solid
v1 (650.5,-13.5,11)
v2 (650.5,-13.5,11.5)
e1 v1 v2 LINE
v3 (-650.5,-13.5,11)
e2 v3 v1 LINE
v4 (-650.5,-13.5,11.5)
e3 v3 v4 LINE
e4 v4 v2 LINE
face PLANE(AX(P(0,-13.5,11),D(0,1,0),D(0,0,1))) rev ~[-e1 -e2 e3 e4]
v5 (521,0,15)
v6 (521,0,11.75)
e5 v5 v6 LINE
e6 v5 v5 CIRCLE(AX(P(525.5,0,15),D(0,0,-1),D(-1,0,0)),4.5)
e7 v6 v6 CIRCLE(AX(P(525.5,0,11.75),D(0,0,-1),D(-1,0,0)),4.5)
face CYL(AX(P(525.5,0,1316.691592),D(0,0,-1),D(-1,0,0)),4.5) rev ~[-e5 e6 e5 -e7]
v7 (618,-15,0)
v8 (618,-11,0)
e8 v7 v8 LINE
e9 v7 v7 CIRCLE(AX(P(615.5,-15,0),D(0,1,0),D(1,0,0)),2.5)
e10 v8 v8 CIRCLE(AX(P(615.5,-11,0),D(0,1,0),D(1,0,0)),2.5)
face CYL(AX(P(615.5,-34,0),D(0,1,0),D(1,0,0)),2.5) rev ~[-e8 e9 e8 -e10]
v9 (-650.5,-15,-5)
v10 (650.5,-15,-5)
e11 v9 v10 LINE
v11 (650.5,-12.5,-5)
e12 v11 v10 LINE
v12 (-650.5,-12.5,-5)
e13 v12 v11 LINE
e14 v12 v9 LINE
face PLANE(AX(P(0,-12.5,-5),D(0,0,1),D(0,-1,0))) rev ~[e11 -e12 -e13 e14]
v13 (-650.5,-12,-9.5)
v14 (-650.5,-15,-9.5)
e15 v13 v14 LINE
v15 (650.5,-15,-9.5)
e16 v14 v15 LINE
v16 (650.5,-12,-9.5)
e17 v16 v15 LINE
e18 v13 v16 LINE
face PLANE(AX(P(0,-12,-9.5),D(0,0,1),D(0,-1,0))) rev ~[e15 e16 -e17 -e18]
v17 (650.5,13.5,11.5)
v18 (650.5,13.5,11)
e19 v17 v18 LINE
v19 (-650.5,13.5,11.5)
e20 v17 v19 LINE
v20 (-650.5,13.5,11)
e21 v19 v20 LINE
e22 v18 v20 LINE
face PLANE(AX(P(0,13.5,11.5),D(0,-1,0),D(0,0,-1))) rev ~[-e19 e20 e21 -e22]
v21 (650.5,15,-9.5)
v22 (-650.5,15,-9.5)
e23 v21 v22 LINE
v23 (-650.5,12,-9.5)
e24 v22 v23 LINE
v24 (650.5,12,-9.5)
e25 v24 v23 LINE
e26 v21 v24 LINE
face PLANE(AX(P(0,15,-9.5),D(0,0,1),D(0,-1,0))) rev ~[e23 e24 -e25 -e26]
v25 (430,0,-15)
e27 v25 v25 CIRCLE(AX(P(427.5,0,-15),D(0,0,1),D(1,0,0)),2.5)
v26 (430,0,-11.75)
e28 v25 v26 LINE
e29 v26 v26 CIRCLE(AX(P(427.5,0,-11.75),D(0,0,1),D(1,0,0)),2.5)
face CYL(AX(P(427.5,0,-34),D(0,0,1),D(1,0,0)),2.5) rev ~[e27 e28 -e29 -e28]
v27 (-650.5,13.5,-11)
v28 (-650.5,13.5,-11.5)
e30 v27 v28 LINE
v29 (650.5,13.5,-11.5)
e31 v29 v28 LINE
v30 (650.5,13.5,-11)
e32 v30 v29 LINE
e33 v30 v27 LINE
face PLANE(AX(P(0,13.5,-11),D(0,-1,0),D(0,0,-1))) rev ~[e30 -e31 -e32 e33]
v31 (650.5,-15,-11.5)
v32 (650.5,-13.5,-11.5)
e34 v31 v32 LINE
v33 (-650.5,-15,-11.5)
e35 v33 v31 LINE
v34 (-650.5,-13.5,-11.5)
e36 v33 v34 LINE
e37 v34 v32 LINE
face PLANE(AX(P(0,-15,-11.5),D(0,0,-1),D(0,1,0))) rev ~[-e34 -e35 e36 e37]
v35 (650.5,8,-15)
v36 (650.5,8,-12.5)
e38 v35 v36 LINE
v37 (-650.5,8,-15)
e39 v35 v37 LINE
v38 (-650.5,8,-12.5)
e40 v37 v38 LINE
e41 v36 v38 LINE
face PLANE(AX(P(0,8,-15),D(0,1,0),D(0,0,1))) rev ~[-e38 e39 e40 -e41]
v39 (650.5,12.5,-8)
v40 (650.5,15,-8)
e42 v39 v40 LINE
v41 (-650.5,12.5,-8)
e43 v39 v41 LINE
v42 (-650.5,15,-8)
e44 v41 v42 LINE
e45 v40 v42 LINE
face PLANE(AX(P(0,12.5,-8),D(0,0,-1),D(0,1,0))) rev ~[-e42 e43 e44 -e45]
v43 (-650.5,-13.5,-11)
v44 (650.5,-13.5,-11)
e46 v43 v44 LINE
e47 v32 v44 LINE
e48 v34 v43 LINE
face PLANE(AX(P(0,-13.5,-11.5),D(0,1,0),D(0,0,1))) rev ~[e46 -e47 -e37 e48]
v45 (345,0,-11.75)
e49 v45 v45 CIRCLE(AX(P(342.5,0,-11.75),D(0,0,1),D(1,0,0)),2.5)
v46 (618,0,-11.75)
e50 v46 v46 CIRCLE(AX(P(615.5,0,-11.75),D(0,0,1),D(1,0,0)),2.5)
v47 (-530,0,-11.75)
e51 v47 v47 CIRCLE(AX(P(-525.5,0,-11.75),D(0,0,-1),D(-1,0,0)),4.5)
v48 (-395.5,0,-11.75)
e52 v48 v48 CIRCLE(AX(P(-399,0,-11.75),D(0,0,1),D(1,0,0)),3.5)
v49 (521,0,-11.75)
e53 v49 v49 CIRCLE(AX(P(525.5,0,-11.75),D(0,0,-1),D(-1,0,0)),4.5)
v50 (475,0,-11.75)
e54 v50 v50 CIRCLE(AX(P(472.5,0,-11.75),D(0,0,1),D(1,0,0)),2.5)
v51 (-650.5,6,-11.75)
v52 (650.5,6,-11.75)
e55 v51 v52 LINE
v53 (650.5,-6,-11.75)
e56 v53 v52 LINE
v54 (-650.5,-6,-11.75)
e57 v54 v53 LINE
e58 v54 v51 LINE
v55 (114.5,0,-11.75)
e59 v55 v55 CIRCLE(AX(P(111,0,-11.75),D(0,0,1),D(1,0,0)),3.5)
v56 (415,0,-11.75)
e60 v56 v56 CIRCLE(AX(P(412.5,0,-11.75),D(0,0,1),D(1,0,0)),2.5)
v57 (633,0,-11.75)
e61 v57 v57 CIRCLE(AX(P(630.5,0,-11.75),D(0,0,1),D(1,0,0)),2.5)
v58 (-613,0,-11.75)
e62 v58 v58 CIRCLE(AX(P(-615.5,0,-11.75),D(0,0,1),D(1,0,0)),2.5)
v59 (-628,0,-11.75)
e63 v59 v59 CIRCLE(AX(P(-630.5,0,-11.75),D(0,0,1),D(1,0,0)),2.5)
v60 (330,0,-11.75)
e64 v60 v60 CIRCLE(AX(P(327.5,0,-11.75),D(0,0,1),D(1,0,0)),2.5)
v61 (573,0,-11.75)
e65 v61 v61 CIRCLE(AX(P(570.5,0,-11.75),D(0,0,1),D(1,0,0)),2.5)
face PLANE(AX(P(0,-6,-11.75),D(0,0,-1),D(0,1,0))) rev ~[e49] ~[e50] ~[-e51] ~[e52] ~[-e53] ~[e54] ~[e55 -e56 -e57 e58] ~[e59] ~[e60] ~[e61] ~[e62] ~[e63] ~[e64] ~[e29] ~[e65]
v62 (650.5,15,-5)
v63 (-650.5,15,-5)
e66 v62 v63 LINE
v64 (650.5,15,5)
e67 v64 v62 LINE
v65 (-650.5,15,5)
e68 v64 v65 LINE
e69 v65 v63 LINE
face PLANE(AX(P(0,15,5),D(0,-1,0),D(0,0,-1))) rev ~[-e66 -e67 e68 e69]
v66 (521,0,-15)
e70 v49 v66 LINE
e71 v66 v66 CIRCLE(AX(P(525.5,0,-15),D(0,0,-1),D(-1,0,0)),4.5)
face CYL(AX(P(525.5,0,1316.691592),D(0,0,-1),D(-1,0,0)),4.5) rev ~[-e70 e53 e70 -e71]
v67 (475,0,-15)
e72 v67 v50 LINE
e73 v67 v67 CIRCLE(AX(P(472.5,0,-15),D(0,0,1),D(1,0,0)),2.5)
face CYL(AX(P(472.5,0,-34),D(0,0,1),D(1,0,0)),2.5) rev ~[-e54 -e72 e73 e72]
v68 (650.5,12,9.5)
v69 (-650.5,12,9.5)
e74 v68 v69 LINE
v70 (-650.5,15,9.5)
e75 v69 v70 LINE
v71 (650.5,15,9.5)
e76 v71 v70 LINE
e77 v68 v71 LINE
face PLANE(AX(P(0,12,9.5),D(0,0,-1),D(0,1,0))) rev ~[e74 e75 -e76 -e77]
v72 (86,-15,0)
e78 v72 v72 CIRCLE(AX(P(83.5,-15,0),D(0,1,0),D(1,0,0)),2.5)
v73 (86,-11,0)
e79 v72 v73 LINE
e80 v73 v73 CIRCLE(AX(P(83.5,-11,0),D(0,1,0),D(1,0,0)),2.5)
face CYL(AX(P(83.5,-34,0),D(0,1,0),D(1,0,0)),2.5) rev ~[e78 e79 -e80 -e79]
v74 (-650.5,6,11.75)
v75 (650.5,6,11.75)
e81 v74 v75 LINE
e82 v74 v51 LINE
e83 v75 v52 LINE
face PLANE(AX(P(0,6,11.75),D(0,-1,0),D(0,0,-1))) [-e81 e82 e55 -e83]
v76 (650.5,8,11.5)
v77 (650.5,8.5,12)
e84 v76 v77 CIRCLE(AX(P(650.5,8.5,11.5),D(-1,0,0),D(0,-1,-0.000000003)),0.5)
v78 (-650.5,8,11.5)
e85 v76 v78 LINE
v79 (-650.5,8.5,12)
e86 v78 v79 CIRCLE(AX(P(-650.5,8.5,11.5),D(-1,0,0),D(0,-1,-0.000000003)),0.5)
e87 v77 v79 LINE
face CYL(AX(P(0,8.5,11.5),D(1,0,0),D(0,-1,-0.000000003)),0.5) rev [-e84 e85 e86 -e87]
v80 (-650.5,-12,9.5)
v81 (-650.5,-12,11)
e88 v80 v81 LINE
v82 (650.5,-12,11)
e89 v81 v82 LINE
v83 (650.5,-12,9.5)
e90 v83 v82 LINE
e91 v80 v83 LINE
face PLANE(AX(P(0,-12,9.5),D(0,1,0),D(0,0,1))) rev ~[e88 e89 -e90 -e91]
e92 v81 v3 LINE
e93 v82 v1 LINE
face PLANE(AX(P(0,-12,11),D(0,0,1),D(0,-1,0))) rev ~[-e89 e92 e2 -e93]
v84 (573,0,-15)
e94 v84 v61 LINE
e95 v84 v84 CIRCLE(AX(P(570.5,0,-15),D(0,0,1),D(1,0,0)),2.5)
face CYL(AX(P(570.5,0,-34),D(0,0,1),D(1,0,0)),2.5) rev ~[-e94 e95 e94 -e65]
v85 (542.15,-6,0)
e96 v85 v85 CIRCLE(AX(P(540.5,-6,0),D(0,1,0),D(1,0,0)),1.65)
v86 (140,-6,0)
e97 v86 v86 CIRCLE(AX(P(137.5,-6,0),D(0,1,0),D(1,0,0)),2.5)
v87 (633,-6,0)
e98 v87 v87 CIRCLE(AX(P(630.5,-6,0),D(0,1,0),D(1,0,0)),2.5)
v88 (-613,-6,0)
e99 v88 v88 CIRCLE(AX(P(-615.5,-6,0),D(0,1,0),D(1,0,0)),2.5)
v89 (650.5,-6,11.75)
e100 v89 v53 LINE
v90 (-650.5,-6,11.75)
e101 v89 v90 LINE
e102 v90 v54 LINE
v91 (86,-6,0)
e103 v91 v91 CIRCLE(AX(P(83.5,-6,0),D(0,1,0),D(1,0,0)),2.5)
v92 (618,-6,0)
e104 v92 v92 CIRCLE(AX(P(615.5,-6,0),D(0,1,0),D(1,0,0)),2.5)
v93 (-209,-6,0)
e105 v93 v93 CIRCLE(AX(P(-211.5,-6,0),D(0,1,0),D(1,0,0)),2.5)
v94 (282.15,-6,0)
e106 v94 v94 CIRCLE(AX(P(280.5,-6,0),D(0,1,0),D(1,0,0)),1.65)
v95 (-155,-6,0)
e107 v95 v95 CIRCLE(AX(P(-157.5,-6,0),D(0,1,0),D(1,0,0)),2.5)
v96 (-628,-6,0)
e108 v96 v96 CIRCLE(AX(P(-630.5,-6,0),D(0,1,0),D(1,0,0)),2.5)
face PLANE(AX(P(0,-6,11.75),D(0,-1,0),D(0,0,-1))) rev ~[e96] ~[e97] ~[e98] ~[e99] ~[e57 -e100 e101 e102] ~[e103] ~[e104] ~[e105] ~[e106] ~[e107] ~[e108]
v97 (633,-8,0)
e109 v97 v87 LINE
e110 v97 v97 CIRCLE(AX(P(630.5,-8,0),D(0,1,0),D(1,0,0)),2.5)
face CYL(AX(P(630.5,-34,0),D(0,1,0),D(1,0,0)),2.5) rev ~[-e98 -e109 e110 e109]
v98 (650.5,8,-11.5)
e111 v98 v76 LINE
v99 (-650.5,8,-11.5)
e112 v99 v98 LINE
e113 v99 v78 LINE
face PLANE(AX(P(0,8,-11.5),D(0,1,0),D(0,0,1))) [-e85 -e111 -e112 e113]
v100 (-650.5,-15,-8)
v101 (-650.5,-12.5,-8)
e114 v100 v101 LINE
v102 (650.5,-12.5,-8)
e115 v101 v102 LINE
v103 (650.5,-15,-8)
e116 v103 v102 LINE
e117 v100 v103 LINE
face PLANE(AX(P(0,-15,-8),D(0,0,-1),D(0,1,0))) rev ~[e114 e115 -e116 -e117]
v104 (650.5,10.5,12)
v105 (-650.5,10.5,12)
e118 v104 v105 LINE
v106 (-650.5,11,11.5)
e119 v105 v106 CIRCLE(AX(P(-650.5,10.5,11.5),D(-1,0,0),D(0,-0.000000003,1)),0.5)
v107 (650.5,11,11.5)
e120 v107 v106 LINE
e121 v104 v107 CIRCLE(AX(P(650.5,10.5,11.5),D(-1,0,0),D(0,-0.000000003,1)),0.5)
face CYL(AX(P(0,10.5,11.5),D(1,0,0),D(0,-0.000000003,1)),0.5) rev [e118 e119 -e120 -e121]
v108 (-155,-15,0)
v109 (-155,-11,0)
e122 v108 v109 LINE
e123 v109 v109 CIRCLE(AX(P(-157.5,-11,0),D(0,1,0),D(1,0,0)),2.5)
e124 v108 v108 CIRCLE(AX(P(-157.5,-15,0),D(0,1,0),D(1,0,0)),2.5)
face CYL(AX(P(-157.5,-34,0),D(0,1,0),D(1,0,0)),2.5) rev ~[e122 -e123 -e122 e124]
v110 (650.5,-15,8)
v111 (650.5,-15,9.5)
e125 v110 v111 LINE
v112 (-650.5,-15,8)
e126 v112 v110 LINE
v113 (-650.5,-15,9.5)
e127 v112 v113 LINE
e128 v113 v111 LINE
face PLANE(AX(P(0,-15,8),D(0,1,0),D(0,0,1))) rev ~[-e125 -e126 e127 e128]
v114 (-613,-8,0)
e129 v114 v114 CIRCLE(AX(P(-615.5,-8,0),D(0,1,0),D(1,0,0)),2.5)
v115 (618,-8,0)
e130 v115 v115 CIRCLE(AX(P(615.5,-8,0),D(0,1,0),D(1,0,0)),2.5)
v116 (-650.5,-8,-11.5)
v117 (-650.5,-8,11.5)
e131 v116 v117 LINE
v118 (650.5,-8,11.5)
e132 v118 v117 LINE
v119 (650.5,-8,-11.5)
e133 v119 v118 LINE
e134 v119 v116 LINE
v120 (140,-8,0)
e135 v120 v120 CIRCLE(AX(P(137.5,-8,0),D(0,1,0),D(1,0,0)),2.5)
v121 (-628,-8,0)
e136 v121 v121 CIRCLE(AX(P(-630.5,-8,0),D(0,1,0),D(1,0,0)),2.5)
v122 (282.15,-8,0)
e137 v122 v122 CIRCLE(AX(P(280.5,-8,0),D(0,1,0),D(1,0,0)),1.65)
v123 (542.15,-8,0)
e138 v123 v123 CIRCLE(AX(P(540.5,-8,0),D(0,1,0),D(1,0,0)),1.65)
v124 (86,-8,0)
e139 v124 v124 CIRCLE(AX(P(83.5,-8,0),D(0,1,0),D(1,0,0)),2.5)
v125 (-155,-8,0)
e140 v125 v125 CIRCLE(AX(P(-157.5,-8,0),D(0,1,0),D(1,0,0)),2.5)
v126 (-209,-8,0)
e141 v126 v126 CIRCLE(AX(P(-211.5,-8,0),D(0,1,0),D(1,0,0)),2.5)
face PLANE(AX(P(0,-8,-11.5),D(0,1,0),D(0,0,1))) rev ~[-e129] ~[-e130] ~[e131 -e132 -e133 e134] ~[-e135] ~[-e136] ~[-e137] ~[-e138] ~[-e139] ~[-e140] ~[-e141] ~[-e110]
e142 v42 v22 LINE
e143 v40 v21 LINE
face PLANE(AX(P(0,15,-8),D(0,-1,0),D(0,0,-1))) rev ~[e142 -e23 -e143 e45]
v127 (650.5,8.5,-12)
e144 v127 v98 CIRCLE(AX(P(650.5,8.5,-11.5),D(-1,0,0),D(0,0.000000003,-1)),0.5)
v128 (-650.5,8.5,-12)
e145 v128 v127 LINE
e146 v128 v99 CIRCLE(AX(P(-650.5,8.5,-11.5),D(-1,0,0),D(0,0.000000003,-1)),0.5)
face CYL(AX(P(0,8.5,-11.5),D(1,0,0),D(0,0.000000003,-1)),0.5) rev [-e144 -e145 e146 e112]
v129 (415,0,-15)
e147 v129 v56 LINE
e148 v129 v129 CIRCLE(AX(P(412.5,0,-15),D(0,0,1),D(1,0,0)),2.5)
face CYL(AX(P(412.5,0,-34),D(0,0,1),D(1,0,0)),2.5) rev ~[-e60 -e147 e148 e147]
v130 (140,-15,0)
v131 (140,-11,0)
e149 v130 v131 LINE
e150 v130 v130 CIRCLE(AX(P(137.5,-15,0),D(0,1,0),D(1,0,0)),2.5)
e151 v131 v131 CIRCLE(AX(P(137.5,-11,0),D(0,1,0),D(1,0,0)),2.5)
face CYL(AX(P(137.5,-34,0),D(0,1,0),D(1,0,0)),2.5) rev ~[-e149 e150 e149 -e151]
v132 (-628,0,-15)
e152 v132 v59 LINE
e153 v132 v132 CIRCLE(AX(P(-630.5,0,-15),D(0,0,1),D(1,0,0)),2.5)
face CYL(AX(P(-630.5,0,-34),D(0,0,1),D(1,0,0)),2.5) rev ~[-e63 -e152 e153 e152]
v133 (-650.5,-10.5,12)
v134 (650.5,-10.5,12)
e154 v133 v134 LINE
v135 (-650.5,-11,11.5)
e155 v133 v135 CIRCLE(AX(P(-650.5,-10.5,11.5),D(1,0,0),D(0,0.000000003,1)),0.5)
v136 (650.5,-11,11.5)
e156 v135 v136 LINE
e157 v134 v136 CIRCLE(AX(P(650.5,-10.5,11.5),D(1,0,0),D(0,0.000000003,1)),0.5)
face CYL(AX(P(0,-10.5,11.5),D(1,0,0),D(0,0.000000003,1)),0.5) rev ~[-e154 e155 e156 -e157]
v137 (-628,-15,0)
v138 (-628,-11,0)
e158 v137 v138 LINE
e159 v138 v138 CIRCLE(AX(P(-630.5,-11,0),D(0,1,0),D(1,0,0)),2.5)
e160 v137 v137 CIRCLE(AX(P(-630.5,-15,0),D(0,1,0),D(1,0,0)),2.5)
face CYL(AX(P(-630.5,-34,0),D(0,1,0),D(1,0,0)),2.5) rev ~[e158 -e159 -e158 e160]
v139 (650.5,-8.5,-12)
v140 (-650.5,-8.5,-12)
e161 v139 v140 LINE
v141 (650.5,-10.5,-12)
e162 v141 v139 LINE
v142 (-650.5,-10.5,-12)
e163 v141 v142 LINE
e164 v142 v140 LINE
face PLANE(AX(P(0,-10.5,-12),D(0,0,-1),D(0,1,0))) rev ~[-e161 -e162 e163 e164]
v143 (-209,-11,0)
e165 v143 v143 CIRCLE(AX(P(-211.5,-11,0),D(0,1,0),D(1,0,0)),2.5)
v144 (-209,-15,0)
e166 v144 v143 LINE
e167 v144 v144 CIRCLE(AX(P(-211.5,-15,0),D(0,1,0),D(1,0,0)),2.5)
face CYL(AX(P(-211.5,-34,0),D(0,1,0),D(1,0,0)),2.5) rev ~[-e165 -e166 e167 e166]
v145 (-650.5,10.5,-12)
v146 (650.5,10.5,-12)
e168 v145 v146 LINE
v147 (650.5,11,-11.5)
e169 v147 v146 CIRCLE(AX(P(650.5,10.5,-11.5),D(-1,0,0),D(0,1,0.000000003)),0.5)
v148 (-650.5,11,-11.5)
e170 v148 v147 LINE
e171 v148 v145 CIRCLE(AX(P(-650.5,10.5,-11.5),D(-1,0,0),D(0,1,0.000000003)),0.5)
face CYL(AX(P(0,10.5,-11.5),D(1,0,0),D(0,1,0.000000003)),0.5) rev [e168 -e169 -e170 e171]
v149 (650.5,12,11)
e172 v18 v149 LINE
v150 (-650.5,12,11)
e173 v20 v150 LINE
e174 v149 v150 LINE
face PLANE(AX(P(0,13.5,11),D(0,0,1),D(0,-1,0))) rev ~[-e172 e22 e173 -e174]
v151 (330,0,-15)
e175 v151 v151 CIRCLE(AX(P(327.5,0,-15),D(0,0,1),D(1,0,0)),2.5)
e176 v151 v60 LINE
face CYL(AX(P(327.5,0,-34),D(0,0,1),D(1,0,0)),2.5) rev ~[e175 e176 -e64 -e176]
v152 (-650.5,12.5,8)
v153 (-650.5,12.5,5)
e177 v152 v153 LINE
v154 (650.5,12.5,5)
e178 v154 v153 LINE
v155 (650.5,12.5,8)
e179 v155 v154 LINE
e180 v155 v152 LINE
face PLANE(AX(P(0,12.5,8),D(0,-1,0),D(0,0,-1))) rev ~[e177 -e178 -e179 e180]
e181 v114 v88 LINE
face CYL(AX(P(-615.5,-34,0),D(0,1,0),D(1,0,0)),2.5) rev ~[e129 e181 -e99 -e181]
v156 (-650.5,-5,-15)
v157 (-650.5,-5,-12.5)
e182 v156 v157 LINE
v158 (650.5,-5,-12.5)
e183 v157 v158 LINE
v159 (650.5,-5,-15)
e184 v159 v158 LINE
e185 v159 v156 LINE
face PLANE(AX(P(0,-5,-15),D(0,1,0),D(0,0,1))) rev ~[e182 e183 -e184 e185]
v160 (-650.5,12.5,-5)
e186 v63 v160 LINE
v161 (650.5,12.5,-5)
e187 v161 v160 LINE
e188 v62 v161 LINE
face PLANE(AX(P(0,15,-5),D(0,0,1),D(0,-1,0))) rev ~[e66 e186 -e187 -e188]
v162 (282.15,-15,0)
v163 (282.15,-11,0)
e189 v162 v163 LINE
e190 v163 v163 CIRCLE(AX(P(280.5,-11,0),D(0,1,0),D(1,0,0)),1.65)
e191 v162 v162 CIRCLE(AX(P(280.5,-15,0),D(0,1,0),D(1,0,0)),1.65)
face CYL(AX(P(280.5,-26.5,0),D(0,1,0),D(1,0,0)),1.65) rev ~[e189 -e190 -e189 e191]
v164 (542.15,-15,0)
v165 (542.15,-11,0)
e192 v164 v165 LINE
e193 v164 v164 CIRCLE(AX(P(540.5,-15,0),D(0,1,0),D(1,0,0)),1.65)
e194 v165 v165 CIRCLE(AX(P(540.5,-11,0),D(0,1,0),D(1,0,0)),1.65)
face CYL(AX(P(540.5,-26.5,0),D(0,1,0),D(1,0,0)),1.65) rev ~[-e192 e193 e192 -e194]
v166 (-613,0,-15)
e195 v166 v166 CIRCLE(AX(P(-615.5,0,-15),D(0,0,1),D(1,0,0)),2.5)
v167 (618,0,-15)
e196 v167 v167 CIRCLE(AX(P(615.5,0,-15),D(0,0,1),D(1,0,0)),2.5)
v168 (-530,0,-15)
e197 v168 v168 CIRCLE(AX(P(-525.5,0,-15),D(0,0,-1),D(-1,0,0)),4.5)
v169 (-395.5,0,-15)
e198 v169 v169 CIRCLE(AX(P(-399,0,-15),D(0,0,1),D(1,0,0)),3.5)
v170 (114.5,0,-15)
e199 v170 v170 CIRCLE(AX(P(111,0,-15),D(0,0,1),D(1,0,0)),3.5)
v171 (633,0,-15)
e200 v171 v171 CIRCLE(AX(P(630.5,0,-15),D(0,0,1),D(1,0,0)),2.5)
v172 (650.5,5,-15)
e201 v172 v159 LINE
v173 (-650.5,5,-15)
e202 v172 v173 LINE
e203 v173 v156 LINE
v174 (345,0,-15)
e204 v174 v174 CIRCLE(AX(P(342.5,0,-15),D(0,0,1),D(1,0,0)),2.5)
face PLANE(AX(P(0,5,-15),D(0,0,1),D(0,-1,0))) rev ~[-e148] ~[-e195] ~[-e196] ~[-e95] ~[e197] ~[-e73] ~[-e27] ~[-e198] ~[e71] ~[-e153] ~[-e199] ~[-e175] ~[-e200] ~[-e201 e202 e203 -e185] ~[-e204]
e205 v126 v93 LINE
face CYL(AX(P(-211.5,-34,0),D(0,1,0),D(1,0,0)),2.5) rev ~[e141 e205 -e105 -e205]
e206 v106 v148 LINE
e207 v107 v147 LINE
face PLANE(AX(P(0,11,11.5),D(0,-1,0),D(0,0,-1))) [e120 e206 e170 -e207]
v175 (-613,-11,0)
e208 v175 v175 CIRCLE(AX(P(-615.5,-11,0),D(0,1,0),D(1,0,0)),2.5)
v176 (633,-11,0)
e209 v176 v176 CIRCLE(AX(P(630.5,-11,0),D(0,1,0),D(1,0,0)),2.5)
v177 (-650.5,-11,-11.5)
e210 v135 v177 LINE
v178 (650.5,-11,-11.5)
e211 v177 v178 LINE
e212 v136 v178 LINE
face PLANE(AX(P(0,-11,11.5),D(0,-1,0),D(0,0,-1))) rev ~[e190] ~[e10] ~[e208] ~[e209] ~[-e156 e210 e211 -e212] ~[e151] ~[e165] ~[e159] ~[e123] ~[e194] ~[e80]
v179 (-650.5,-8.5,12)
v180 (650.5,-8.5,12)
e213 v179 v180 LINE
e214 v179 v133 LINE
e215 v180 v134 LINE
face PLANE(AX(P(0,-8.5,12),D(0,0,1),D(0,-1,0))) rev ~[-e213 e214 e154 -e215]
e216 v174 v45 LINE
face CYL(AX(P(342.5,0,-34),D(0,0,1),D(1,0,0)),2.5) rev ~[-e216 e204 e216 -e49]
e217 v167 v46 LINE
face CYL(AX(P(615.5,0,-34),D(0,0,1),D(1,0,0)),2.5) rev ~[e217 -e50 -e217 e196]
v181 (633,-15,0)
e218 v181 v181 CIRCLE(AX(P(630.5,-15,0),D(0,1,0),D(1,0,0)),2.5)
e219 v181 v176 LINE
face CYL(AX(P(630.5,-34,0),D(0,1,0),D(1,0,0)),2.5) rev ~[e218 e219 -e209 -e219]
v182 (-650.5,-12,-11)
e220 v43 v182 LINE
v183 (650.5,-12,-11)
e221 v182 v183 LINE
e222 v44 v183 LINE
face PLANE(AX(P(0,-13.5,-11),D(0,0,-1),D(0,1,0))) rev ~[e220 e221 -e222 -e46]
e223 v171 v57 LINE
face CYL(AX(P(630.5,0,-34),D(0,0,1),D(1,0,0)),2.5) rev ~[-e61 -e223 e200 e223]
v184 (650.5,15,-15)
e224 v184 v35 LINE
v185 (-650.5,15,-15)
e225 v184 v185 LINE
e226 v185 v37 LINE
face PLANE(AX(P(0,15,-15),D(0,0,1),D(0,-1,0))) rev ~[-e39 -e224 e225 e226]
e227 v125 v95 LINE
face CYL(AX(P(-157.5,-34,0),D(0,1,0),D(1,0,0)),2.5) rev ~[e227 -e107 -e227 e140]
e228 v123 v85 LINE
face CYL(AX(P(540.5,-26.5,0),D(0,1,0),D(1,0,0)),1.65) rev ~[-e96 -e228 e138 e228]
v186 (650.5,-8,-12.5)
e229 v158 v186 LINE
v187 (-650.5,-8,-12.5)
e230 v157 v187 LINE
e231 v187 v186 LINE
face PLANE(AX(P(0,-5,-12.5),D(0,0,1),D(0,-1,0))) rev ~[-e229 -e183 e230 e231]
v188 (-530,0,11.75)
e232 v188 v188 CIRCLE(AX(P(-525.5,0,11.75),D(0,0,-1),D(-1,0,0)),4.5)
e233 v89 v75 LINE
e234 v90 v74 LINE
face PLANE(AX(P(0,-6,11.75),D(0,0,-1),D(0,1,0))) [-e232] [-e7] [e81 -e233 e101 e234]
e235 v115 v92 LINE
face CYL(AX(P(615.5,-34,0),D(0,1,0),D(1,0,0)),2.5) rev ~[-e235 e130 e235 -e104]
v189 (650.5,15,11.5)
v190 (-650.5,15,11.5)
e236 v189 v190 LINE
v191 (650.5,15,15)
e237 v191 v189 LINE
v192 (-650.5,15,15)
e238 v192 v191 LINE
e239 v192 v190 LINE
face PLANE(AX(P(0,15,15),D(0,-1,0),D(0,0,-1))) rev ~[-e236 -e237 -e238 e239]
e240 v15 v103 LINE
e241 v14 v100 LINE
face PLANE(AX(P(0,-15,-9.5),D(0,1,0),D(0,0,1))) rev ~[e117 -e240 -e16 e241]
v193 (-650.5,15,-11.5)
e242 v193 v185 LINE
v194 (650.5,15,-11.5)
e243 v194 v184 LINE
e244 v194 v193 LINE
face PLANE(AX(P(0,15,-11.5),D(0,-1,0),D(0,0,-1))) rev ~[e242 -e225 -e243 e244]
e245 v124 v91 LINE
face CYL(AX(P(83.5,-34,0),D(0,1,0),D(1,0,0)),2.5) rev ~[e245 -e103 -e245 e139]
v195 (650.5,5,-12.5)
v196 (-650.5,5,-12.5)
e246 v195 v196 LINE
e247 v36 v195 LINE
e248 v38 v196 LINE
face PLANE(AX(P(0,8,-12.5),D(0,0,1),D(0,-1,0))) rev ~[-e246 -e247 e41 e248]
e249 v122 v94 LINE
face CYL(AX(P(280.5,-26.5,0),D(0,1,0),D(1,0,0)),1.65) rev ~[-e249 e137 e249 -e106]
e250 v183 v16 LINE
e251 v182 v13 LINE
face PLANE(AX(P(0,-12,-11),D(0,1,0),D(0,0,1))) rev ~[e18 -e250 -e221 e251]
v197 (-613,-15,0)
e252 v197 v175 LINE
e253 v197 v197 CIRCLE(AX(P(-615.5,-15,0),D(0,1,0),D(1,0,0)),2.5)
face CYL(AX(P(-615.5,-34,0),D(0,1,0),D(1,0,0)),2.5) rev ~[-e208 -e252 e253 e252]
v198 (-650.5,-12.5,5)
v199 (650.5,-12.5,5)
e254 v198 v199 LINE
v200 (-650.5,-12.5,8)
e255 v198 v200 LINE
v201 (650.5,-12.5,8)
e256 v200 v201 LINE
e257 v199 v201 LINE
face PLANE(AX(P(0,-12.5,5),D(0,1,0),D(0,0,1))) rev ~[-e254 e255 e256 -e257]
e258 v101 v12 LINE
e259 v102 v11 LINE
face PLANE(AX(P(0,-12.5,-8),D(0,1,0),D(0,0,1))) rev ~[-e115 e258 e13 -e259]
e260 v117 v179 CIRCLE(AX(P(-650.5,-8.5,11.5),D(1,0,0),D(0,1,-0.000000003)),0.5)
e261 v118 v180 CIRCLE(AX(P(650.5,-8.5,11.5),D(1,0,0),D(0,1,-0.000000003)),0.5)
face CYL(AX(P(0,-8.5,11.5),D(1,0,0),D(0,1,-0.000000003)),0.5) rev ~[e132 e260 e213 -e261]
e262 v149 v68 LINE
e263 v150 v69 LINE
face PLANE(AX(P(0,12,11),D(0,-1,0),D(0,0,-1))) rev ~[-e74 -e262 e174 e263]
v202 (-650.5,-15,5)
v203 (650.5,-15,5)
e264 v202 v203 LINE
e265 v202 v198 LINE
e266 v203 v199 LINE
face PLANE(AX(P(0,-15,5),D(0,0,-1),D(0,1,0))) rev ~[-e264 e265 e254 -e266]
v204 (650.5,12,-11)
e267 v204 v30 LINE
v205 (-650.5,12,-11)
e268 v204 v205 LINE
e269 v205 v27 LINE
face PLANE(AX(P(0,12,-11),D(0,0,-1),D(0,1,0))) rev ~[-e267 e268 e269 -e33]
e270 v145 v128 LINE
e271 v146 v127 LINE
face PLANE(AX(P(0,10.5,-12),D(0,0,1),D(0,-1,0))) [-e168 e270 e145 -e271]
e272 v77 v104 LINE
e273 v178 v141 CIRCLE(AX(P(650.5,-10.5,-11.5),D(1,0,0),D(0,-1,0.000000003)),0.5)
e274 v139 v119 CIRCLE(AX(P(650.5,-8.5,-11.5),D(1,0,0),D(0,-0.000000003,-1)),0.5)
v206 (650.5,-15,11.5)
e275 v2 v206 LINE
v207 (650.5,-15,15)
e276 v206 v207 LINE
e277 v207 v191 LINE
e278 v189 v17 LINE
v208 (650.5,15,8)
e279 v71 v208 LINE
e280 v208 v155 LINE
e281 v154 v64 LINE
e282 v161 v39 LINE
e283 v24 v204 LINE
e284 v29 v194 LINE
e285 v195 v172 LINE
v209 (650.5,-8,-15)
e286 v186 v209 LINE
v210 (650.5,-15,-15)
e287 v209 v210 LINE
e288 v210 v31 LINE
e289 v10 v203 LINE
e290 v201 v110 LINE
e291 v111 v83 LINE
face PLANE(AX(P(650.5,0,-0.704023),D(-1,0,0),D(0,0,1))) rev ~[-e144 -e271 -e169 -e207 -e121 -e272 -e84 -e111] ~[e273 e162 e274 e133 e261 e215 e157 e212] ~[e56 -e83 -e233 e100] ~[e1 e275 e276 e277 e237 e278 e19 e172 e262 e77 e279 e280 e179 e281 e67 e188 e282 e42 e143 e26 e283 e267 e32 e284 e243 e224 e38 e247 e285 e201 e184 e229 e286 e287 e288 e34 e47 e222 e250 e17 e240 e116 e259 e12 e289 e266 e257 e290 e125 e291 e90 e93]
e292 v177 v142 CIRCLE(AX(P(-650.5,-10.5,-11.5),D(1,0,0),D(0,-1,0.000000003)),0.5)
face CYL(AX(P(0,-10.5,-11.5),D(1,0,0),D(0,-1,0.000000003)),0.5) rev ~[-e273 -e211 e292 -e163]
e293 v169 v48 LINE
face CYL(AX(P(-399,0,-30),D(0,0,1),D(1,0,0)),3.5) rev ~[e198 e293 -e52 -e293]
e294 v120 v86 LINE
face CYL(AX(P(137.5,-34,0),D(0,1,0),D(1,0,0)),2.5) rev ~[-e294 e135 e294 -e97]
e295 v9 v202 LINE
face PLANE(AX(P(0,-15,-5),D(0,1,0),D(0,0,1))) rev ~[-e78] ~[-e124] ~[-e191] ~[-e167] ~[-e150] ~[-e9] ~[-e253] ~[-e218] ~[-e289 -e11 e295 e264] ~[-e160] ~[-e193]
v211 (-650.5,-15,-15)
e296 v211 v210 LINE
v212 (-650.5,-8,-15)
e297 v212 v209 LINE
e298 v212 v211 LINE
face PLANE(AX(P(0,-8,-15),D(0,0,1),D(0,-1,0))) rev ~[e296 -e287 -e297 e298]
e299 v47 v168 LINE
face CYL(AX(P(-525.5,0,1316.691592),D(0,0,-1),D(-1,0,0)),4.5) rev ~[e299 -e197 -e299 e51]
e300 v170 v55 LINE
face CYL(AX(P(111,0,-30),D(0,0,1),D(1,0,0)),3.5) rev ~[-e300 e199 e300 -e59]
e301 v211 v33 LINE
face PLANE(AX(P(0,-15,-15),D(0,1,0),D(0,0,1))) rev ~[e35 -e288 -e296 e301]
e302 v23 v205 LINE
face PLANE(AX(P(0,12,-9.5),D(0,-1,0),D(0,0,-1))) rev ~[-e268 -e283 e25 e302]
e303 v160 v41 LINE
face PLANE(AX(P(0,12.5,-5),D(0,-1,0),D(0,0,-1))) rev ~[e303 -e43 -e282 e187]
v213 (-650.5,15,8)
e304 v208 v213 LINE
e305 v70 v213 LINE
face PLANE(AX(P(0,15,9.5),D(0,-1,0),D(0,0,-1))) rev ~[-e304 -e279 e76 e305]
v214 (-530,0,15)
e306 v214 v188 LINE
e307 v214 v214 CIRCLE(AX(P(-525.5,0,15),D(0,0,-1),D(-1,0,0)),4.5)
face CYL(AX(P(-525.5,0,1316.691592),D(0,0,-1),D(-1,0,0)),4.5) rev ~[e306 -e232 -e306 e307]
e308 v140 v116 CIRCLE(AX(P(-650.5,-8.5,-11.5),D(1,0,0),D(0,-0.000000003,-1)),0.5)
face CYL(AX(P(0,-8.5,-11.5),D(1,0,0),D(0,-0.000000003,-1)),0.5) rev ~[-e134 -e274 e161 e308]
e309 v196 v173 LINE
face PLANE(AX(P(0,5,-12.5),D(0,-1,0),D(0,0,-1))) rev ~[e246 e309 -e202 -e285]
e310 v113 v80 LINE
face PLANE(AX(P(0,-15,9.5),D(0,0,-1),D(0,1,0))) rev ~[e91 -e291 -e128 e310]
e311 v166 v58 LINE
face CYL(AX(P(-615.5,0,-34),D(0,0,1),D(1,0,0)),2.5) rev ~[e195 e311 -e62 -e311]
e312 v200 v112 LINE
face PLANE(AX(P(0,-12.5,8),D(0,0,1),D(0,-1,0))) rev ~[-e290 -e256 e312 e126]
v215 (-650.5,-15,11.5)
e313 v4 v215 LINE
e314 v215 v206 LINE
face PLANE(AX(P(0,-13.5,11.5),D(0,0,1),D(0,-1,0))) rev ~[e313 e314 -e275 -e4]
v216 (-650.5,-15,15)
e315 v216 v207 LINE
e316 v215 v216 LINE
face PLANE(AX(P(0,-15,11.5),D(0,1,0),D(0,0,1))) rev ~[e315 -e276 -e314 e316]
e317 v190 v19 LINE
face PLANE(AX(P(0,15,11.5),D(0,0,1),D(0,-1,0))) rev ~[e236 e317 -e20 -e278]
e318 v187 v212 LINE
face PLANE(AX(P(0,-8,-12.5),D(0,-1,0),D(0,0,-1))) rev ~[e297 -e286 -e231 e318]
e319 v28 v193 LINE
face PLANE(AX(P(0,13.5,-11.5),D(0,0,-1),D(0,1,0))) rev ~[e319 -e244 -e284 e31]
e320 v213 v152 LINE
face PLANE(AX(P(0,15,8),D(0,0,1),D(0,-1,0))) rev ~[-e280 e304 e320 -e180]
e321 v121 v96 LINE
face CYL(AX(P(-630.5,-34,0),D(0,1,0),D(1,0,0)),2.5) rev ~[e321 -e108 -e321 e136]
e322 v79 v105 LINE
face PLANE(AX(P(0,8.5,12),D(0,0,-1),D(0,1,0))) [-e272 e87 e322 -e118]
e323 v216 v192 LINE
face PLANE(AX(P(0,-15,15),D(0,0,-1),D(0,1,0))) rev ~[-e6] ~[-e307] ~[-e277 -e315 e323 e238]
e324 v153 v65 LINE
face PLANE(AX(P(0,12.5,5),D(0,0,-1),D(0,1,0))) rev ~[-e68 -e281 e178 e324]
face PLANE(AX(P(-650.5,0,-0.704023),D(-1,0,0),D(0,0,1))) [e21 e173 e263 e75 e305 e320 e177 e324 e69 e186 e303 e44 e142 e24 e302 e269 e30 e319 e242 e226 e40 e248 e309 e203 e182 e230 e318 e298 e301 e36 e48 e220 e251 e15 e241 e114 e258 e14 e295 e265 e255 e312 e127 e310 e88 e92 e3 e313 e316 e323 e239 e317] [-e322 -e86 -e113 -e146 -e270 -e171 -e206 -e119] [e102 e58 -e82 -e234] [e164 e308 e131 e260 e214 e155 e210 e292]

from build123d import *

# Parameters (mm, degrees)
SKETCH_1_W                = 23.5
SKETCH_1_H                = 12
EXTRUDE_1_DEPTH           = 650.5
HOLE_WIZARD_M6_1_D        = 5
HOLE_WIZARD_M6_1_DEPTH    = 19
HOLE_WIZARD_M6_1_TIP      = 1.502151548
HOLE_WIZARD_M6_2_D        = 5
HOLE_WIZARD_M6_2_DEPTH    = 19
HOLE_WIZARD_M6_2_TIP      = 1.502151548
HOLE_WIZARD_9_0_9_1_D     = 9
HOLE_WIZARD_7_0_7_1_D     = 7
HOLE_WIZARD_7_0_7_1_DEPTH = 15
HOLE_WIZARD_7_0_7_1_TIP   = 2.103012167
HOLE_WIZARD_M4_1_D        = 3.3
HOLE_WIZARD_M4_1_DEPTH    = 11.5
HOLE_WIZARD_M4_1_TIP      = 0.991420021


with BuildPart() as part:
    # 草图1 → 凸台-拉伸1 (new, symmetric)
    with BuildSketch(Plane(origin=(0, 0, 0), x_dir=(0, 0, -1), z_dir=(1, 0, 0))):
        Polygon((-15, 15), (-11.5, 15), (-11.5, 13.5), (-11, 13.5), (-11, 12), (-9.5, 12), (-9.5, 15), (-8, 15), (-8, 12.5), (-5, 12.5), (-5, 15), (5, 15), (5, 12.5), (8, 12.5), (8, 15), (9.5, 15), (9.5, 12), (11, 12), (11, 13.5), (11.5, 13.5), (11.5, 15), (15, 15), (15, 8), (12.5, 8), (12.5, 5), (15, 5), (15, -5), (12.5, -5), (12.5, -8), (15, -8), (15, -15), (11.5, -15), (11.5, -13.5), (11, -13.5), (11, -12), (9.5, -12), (9.5, -15), (8, -15), (8, -12.5), (5, -12.5), (5, -15), (-5, -15), (-5, -12.5), (-8, -12.5), (-8, -15), (-9.5, -15), (-9.5, -12), (-11, -12), (-11, -13.5), (-11.5, -13.5), (-11.5, -15), (-15, -15), align=None)
        with BuildLine():
            Line((12, -10.5), (12, -8.5))
            ThreePointArc((12, -8.5), (11.853553391, -8.146446609), (11.5, -8))
            Line((11.5, -8), (-11.5, -8))
            ThreePointArc((-11.5, -8), (-11.853553391, -8.146446609), (-12, -8.5))
            Line((-12, -8.5), (-12, -10.5))
            ThreePointArc((-12, -10.5), (-11.853553391, -10.853553391), (-11.5, -11))
            Line((-11.5, -11), (11.5, -11))
            ThreePointArc((11.5, -11), (11.853553391, -10.853553391), (12, -10.5))
        make_face(mode=Mode.SUBTRACT)
        with BuildLine():
            Line((-11.5, 11), (11.5, 11))
            ThreePointArc((11.5, 11), (11.853553391, 10.853553391), (12, 10.5))
            Line((12, 10.5), (12, 8.5))
            ThreePointArc((12, 8.5), (11.853553391, 8.146446609), (11.5, 8))
            Line((11.5, 8), (-11.5, 8))
            ThreePointArc((-11.5, 8), (-11.853553391, 8.146446609), (-12, 8.5))
            Line((-12, 8.5), (-12, 10.5))
            ThreePointArc((-12, 10.5), (-11.853553391, 10.853553391), (-11.5, 11))
        make_face(mode=Mode.SUBTRACT)
        Rectangle(SKETCH_1_W, SKETCH_1_H, mode=Mode.SUBTRACT)
    extrude(amount=EXTRUDE_1_DEPTH, both=True)

    # M6 螺纹孔1
    with Locations(Plane(origin=(0, 0, -15), x_dir=(-1, 0, 0), z_dir=(0, 0, -1))):
        with Locations((630.5, 0), (615.5, 0), (-327.5, 0), (-342.5, 0), (-412.5, 0), (-427.5, 0), (-615.5, 0), (-630.5, 0), (-570.5, 0), (-472.5, 0)):
            Hole(HOLE_WIZARD_M6_1_D / 2, depth=HOLE_WIZARD_M6_1_DEPTH)
            with Locations((0, 0, -(HOLE_WIZARD_M6_1_DEPTH + HOLE_WIZARD_M6_1_TIP / 2))):  # 118° drill point
                Cone(0, HOLE_WIZARD_M6_1_D / 2, HOLE_WIZARD_M6_1_TIP, mode=Mode.SUBTRACT)

    # M6 螺纹孔2
    with Locations(Plane(origin=(0, -15, 0), x_dir=(-1, 0, 0), z_dir=(0, -1, 0))):
        with Locations((-630.5, 0), (-615.5, 0), (615.5, 0), (630.5, 0), (-137.5, 0), (-83.5, 0), (157.5, 0), (211.5, 0)):
            Hole(HOLE_WIZARD_M6_2_D / 2, depth=HOLE_WIZARD_M6_2_DEPTH)
            with Locations((0, 0, -(HOLE_WIZARD_M6_2_DEPTH + HOLE_WIZARD_M6_2_TIP / 2))):  # 118° drill point
                Cone(0, HOLE_WIZARD_M6_2_D / 2, HOLE_WIZARD_M6_2_TIP, mode=Mode.SUBTRACT)

    # Ø9.0 (9) 直径孔1 (through all)
    with Locations(Plane.XY.offset(15)):
        with Locations((525.5, 0), (-525.5, 0)):
            Hole(HOLE_WIZARD_9_0_9_1_D / 2)

    # Ø7.0 (7) 直径孔1
    with Locations(Plane(origin=(0, 0, -15), x_dir=(-1, 0, 0), z_dir=(0, 0, -1))):
        with Locations((-111, 0), (399, 0)):
            Hole(HOLE_WIZARD_7_0_7_1_D / 2, depth=HOLE_WIZARD_7_0_7_1_DEPTH)
            with Locations((0, 0, -(HOLE_WIZARD_7_0_7_1_DEPTH + HOLE_WIZARD_7_0_7_1_TIP / 2))):  # 118° drill point
                Cone(0, HOLE_WIZARD_7_0_7_1_D / 2, HOLE_WIZARD_7_0_7_1_TIP, mode=Mode.SUBTRACT)

    # M4 螺纹孔1
    with Locations(Plane(origin=(0, -15, 0), x_dir=(-1, 0, 0), z_dir=(0, -1, 0))):
        with Locations((-540.5, 0), (-280.5, 0)):
            Hole(HOLE_WIZARD_M4_1_D / 2, depth=HOLE_WIZARD_M4_1_DEPTH)
            with Locations((0, 0, -(HOLE_WIZARD_M4_1_DEPTH + HOLE_WIZARD_M4_1_TIP / 2))):  # 118° drill point
                Cone(0, HOLE_WIZARD_M4_1_D / 2, HOLE_WIZARD_M4_1_TIP, mode=Mode.SUBTRACT)


solid = part.part
